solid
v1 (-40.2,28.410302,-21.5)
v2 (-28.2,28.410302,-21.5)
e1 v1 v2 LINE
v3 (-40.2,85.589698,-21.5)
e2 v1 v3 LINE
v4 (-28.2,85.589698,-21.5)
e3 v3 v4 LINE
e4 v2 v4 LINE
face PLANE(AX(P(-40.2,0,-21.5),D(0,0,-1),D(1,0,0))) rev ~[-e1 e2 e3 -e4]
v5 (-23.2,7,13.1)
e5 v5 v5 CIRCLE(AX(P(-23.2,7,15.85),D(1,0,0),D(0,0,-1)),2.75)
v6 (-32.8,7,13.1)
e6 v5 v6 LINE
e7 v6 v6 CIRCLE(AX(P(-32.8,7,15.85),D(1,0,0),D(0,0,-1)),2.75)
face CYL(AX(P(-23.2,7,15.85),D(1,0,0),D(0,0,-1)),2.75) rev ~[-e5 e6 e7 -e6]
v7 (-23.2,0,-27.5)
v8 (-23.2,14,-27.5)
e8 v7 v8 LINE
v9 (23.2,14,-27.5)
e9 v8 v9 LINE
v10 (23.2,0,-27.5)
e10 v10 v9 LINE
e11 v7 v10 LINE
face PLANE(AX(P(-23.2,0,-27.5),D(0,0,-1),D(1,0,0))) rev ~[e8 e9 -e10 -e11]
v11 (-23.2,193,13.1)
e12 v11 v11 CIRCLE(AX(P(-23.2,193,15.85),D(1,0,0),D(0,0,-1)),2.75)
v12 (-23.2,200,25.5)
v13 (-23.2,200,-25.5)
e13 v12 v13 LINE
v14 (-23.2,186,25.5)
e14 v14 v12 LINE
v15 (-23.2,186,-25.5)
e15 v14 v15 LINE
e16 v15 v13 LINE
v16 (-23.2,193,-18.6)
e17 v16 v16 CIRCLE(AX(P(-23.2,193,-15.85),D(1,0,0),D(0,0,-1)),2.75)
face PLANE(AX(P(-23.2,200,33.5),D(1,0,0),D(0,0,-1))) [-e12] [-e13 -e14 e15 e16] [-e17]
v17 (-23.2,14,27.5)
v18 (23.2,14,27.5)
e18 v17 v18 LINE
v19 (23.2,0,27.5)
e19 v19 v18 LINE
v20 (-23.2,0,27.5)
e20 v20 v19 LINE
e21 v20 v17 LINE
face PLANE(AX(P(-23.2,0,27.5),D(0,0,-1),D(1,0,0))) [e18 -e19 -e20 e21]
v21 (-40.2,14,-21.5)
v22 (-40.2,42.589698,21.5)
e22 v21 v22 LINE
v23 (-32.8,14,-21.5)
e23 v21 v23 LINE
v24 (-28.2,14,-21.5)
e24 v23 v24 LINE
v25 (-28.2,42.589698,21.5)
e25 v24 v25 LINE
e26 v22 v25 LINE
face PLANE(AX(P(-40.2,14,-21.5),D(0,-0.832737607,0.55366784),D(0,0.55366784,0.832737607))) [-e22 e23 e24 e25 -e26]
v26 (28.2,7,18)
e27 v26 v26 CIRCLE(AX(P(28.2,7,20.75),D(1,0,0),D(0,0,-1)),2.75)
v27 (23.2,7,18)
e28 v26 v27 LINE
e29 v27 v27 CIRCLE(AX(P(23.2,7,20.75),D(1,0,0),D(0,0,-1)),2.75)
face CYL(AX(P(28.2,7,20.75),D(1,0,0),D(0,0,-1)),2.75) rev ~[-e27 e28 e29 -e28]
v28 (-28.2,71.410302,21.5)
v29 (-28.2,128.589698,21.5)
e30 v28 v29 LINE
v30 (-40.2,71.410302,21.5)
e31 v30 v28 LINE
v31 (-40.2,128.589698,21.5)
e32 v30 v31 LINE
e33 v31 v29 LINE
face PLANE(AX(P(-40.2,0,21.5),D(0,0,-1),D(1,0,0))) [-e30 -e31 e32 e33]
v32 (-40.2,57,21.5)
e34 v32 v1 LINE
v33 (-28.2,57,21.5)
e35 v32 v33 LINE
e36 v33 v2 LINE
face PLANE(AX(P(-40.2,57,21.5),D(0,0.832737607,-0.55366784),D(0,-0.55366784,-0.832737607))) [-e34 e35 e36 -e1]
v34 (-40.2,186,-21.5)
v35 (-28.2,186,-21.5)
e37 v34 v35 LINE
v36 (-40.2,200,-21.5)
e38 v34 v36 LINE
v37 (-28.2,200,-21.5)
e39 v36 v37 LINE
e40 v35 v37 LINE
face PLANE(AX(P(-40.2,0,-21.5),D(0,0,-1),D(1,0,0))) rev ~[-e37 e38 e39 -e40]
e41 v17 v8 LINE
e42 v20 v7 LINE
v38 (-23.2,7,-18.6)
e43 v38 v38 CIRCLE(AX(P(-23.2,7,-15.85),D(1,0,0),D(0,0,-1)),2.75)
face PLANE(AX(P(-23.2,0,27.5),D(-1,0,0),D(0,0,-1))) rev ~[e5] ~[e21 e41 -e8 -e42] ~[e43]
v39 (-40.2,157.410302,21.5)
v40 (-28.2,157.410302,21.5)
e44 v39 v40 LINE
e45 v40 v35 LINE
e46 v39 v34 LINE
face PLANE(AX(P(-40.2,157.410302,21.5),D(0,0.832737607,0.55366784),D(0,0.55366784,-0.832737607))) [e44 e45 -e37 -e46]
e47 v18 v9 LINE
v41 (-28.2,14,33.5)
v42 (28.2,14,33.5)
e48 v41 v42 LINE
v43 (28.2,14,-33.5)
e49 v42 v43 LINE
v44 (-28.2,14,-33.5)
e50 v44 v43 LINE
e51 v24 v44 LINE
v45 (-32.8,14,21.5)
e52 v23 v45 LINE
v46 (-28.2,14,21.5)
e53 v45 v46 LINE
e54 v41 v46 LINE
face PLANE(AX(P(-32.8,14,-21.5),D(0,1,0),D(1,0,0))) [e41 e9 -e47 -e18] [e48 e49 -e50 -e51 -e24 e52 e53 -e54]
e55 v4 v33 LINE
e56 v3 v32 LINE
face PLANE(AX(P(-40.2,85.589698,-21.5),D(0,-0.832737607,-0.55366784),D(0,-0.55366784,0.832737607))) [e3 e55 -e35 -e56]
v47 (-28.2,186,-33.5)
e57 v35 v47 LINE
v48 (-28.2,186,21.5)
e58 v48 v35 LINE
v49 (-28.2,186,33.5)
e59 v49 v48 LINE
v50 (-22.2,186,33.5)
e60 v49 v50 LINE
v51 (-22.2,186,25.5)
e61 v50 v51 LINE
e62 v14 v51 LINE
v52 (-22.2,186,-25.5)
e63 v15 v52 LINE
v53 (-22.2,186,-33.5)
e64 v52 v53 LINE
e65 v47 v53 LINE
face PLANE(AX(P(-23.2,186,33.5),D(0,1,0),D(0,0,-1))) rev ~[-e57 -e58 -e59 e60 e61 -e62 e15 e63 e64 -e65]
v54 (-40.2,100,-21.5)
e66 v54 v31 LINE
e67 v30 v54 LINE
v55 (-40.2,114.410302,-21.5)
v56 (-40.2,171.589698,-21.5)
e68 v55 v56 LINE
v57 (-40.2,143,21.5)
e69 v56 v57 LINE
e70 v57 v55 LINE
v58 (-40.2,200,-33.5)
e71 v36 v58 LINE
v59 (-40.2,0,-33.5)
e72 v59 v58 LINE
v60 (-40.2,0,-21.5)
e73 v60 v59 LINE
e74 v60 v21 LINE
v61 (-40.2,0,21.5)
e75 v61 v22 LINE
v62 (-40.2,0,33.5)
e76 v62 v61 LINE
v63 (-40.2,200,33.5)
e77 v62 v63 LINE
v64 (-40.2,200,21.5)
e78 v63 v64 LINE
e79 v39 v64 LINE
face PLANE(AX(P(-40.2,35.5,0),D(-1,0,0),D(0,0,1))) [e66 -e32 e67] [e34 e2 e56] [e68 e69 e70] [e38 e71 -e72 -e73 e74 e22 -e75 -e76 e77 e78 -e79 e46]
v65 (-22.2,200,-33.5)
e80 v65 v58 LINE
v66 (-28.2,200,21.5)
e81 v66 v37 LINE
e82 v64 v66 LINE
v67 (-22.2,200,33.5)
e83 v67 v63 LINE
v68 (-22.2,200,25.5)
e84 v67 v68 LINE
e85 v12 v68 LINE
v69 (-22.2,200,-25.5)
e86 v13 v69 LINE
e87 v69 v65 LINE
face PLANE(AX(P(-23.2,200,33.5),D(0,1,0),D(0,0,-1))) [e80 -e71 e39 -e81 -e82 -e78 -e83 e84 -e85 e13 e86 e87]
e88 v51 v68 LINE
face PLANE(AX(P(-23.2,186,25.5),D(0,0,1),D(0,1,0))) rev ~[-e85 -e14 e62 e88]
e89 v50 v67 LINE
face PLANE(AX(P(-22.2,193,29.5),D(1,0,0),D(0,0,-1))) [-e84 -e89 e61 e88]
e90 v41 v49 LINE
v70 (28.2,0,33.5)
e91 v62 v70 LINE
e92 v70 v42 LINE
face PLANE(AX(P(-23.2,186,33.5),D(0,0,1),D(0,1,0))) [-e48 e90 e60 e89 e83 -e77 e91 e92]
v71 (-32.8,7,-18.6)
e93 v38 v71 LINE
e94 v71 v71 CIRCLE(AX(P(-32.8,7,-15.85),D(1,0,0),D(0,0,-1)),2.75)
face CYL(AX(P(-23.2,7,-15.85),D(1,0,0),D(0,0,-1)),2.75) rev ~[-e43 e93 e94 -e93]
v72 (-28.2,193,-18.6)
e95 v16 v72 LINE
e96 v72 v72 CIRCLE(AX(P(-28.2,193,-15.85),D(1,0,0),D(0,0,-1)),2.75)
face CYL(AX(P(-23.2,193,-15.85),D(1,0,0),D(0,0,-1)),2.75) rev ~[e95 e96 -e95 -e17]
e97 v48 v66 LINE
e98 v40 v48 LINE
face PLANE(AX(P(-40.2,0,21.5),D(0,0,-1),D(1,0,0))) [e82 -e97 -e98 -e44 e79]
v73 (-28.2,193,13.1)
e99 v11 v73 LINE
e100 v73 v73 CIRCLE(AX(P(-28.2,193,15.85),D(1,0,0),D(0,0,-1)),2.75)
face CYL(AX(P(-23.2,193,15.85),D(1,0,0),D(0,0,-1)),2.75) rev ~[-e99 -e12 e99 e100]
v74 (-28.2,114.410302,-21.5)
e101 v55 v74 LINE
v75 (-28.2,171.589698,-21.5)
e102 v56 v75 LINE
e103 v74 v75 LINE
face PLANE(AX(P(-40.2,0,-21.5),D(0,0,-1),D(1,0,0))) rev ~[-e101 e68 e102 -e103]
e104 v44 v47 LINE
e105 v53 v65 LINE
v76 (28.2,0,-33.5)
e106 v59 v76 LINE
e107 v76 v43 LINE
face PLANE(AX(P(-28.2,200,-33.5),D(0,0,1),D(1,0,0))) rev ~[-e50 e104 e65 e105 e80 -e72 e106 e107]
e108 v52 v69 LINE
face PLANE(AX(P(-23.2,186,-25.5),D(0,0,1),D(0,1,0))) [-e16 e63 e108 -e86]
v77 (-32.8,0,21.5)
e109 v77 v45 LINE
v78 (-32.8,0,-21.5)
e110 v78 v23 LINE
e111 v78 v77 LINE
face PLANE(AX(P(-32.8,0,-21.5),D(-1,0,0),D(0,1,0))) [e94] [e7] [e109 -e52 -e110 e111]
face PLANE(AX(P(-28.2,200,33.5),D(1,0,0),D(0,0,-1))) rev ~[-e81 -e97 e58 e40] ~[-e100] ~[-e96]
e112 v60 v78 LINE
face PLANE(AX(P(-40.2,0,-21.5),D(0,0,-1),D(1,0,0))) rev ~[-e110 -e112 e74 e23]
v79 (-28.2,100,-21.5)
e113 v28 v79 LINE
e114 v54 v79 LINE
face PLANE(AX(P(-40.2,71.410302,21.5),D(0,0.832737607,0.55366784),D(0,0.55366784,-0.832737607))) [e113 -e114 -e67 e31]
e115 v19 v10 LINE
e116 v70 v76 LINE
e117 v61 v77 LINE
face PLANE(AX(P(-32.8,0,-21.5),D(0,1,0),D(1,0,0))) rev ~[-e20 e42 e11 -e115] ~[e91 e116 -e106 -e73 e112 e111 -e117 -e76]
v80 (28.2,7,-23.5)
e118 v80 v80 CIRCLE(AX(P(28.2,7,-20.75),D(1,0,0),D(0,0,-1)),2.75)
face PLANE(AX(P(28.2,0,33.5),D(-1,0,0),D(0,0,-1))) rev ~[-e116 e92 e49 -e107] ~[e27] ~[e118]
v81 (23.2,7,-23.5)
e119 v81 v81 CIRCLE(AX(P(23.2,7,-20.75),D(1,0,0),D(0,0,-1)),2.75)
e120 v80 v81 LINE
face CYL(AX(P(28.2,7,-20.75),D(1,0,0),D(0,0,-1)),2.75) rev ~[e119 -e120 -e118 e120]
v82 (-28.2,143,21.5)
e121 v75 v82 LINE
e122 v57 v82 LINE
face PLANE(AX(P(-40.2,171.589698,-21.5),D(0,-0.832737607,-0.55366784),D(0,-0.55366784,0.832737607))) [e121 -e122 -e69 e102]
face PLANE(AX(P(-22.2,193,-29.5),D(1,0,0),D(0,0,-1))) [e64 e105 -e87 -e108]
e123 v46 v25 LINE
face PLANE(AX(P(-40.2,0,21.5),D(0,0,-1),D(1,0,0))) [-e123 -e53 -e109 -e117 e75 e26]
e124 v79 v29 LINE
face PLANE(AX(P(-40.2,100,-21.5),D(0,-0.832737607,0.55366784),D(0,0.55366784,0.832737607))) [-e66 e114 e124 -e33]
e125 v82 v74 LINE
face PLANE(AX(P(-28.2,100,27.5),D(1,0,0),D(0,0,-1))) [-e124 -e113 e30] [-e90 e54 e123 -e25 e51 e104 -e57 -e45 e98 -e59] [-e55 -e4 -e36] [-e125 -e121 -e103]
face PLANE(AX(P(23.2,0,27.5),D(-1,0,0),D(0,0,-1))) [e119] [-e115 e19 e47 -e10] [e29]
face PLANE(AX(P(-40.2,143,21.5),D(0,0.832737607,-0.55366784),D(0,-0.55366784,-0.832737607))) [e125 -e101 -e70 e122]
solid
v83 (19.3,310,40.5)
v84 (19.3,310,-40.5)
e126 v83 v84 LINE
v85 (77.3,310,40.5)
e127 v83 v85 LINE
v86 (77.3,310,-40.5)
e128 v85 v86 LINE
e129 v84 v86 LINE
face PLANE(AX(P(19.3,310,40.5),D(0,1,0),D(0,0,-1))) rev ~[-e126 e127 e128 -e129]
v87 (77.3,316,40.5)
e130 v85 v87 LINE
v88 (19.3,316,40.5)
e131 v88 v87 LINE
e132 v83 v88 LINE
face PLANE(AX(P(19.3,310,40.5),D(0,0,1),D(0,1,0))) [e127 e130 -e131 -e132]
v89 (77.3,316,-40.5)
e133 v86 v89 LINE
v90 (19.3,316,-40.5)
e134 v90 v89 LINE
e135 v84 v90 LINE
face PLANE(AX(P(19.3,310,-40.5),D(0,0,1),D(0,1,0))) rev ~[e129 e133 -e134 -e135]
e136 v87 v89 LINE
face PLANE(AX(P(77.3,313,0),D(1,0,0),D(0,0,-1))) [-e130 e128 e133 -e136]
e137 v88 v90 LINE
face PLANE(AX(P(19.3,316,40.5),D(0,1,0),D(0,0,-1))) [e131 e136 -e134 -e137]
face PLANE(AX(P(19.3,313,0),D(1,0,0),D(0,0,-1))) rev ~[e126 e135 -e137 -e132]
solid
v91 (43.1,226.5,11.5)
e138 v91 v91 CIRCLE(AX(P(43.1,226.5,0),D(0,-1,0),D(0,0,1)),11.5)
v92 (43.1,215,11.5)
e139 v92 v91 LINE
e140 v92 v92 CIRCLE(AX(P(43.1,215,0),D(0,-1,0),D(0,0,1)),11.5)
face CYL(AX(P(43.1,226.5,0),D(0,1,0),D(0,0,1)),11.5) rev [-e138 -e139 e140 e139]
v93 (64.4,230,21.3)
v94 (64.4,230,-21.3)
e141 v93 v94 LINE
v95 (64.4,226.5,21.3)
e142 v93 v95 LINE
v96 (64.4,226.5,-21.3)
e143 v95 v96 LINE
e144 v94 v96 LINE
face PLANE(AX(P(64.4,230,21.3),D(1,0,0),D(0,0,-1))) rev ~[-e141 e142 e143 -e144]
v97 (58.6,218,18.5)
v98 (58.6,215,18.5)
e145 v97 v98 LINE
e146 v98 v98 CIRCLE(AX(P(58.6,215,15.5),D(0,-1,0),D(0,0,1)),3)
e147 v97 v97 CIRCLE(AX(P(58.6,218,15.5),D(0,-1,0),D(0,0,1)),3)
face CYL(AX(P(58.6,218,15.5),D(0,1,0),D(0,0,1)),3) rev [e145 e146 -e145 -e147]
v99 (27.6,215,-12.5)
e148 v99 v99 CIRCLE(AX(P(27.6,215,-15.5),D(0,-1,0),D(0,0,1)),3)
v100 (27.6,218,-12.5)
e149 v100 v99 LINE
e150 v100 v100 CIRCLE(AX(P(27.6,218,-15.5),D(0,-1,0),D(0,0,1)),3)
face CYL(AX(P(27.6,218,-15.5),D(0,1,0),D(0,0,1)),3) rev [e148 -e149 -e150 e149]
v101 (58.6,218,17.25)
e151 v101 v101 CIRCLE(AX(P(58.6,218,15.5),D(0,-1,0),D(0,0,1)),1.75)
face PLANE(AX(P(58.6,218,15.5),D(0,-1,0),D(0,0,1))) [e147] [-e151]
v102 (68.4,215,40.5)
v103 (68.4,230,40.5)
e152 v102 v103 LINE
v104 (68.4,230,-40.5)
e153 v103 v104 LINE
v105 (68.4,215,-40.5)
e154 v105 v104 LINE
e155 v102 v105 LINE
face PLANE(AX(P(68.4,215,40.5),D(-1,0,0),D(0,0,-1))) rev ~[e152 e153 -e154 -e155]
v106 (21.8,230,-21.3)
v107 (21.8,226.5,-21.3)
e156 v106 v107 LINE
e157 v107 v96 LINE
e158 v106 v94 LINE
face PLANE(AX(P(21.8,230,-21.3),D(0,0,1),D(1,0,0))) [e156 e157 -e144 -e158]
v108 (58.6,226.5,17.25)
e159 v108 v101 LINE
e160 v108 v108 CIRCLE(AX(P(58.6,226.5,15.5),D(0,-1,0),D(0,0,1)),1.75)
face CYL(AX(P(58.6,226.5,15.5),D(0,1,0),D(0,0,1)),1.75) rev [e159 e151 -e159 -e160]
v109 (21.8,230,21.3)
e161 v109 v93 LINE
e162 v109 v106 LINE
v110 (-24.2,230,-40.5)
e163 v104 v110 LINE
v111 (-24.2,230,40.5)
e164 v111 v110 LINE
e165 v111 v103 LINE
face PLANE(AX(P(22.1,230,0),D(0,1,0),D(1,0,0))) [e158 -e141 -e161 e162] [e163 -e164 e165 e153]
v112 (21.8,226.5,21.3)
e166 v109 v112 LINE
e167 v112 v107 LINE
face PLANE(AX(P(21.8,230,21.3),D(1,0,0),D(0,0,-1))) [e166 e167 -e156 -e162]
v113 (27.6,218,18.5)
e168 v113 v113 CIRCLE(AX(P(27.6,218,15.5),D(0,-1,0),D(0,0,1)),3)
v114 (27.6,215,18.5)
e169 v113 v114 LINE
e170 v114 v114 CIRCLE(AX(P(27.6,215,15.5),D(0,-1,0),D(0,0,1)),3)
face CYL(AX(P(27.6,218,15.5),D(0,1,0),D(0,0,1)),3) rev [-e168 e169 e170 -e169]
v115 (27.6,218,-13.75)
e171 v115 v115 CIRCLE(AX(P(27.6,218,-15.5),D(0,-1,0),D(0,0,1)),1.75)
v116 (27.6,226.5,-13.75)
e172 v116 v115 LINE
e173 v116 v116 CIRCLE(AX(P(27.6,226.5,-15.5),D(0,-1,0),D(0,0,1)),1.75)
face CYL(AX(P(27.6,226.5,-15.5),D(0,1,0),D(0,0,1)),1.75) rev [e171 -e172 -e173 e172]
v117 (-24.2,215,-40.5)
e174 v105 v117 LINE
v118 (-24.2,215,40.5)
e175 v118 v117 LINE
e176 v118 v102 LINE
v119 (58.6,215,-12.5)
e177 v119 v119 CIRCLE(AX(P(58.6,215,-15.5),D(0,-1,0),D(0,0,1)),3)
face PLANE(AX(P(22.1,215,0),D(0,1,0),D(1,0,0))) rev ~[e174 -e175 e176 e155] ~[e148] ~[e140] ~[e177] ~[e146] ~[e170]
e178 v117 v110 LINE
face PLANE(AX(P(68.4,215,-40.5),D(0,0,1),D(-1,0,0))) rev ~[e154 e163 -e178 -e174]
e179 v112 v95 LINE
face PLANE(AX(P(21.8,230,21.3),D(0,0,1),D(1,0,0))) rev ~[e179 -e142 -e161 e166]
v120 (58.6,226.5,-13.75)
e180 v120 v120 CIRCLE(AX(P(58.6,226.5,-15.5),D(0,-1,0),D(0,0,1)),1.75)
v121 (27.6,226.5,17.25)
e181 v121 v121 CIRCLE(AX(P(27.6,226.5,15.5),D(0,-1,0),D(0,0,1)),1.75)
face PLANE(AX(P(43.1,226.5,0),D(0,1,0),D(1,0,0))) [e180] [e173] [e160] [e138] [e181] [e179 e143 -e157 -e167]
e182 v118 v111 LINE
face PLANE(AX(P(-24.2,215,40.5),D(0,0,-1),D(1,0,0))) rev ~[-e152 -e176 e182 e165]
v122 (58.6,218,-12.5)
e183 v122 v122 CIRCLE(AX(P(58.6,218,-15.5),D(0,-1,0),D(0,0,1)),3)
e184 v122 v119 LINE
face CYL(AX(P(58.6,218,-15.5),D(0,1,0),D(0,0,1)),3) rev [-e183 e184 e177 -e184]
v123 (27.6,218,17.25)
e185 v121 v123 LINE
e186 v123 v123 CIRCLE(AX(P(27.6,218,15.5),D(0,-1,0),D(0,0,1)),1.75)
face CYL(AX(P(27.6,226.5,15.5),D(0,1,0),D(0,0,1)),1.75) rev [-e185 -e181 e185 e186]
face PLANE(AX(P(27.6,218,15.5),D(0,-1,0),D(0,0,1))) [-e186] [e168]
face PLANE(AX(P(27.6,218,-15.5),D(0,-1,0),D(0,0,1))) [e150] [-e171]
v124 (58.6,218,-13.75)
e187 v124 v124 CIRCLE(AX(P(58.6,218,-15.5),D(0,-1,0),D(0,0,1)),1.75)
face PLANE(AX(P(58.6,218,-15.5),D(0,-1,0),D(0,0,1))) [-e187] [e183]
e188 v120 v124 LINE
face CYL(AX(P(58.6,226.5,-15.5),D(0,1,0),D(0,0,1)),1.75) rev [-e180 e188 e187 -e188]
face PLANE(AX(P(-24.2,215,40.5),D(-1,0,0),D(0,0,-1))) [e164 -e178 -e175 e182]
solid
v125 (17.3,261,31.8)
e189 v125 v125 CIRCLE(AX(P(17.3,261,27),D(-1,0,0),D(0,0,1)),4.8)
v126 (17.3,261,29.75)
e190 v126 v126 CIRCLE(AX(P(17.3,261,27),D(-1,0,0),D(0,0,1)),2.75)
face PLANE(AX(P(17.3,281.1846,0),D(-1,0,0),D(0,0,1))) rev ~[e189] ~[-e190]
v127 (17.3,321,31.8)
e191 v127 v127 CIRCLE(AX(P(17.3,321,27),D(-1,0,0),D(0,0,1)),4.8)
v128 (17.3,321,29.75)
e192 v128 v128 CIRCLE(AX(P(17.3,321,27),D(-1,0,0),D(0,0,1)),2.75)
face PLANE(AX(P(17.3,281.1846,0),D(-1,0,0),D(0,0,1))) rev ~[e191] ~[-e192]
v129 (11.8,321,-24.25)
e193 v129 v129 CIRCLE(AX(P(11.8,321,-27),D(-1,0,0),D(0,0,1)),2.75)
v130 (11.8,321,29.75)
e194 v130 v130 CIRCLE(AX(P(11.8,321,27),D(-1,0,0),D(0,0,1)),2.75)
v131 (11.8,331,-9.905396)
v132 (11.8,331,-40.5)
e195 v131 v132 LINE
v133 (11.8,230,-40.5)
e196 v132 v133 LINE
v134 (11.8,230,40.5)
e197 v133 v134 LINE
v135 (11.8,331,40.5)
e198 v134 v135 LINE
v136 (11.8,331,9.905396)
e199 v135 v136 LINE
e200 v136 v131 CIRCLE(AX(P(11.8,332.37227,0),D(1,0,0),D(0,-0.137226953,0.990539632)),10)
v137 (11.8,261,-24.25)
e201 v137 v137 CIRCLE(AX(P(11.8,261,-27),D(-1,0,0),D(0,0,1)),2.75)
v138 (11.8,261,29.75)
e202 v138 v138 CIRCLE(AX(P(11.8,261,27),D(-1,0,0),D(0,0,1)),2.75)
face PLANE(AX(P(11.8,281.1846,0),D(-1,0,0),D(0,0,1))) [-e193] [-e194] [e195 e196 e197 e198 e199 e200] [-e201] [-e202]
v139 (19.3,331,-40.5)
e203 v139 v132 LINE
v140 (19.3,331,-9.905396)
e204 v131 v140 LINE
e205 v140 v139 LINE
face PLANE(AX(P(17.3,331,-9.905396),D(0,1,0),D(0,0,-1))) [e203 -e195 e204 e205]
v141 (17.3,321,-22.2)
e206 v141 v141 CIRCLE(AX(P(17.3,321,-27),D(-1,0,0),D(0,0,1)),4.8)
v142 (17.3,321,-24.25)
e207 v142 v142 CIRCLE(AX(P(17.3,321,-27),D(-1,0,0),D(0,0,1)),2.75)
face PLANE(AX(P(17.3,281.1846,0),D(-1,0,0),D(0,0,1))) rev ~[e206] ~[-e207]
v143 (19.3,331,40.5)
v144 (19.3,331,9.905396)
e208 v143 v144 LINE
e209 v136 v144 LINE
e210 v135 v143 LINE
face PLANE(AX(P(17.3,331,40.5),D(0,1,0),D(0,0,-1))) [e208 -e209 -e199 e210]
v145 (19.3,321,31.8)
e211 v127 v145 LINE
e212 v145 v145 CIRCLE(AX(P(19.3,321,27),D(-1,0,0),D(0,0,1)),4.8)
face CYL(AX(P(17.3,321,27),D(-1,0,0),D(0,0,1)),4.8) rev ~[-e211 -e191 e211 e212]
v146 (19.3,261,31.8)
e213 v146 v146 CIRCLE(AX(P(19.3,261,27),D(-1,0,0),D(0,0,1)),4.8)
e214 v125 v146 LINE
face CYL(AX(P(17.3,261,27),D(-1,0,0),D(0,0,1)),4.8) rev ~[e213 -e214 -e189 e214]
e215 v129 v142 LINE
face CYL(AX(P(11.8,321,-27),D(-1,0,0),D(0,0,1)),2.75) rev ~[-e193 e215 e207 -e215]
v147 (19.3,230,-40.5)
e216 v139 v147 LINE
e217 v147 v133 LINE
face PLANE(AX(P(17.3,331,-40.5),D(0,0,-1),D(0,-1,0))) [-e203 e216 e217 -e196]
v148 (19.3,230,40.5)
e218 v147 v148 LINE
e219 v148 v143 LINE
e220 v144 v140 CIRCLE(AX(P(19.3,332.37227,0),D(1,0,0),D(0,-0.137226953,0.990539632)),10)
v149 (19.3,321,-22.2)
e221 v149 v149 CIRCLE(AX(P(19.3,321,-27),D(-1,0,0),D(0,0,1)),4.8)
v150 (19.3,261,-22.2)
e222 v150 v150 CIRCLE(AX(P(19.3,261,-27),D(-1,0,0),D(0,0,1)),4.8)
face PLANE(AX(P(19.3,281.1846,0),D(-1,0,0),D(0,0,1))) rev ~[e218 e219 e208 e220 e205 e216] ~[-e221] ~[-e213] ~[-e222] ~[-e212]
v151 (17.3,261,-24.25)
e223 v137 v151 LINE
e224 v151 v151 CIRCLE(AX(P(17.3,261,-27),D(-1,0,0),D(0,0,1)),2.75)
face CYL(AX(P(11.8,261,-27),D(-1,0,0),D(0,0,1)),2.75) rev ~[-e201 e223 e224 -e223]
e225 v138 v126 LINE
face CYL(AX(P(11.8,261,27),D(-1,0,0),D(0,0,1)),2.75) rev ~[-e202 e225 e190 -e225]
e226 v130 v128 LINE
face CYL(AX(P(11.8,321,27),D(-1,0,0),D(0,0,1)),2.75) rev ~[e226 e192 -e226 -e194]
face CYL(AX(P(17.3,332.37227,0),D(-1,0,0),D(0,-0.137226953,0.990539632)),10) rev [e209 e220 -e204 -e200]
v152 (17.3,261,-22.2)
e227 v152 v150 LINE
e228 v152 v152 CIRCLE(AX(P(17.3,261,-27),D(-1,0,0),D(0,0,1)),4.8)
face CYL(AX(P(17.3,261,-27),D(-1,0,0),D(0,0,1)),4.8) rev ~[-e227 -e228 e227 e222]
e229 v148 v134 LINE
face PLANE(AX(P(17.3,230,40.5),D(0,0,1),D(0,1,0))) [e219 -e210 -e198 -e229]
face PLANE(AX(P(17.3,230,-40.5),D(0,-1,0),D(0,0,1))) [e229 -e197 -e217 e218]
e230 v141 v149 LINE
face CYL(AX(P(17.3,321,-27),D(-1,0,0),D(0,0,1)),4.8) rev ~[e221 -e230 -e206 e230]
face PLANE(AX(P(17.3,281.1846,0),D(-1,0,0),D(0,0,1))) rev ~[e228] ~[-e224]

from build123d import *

# Parameters (mm, degrees)
SKETCH1_W            = 56.4
SKETCH1_H            = 67
SKETCH1_W_2          = 46.4
SKETCH1_H_2          = 55
BOSS_EXTRUDE1_DEPTH  = 14
SKETCH4_W            = 12
SKETCH4_H            = 12
BOSS_EXTRUDE2_DEPTH  = 200
SKETCH16_W           = 4.6
SKETCH16_H           = 14
BOSS_EXTRUDE11_DEPTH = 43
SKETCH5_W            = 5
SKETCH5_H            = 67
BOSS_EXTRUDE3_DEPTH  = 14
BOSS_EXTRUDE4_REACH  = 216.011
SKETCH2_R            = 2.75
CUT_EXTRUDE1_DEPTH   = 5
SKETCH3_R            = 2.75
CUT_EXTRUDE2_DEPTH   = 210.198972273
SKETCH7_R            = 2.75
CUT_EXTRUDE3_DEPTH   = 217.851100989
SKETCH8_W            = 8
SKETCH8_H            = 14
BOSS_EXTRUDE5_DEPTH  = 1
SKETCH9_W            = 92.6
SKETCH9_H            = 81
SKETCH9_W_2          = 6.786539707
BOSS_EXTRUDE6_DEPTH  = 15
SKETCH10_W           = 42.6
SKETCH10_H           = 42.6
CUT_EXTRUDE4_DEPTH   = 3.5
SKETCH11_R           = 1.75
SKETCH11_R_2         = 11.5
CUT_EXTRUDE5_DEPTH   = 11.5
CUT_EXTRUDE6_START   = 8.5
SKETCH11_5_R         = 3
SKETCH11_5_R_2       = 1.75
SKETCH11_5_R_3       = 11.5
CUT_EXTRUDE6_DEPTH   = 3
SKETCH13_R           = 2.75
BOSS_EXTRUDE7_DEPTH  = 5.5
BOSS_EXTRUDE10_START = -5.5
SKETCH13_3_R         = 4.8
BOSS_EXTRUDE10_DEPTH = 2
SKETCH15_W           = 81
SKETCH15_H           = 6
BOSS_EXTRUDE9_DEPTH  = 58


with BuildPart() as part:
    # Sketch1 → Boss-Extrude1 (new body)
    with BuildSketch(Plane(origin=(0, 0, 0), x_dir=(1, 0, 0), z_dir=(0, 1, 0))):
        Rectangle(SKETCH1_W, SKETCH1_H)
        Rectangle(SKETCH1_W_2, SKETCH1_H_2, mode=Mode.SUBTRACT)
    extrude(amount=BOSS_EXTRUDE1_DEPTH)

    # Sketch4 → Boss-Extrude2 (add)
    with BuildSketch(Plane(origin=(0, 0, 0), x_dir=(1, 0, 0), z_dir=(0, 1, 0))):
        with Locations((-34.2, -27.5)):
            Rectangle(SKETCH4_W, SKETCH4_H)
        with Locations((-34.2, 27.5)):
            Rectangle(SKETCH4_W, SKETCH4_H)
    extrude(amount=BOSS_EXTRUDE2_DEPTH)

    # Sketch16 → Boss-Extrude11 (add)
    with BuildSketch(Plane.XY.offset(-21.5)):
        with Locations((-30.5, 7)):
            Rectangle(SKETCH16_W, SKETCH16_H)
    extrude(amount=BOSS_EXTRUDE11_DEPTH)

    # Sketch5 → Boss-Extrude3 (add)
    with BuildSketch(Plane(origin=(0, 200, 0), x_dir=(1, 0, 0), z_dir=(0, 1, 0))):
        with Locations((-25.7, 0)):
            Rectangle(SKETCH5_W, SKETCH5_H)
    extrude(amount=-BOSS_EXTRUDE3_DEPTH)

    # Boss-Extrude4: up to this face of the body (flat: up to its plane)
    boss_extrude4_end = Plane(part.part.faces().sort_by_distance((-28.2, 100, 27.5))[0])
    # Sketch6 → Boss-Extrude4 (add, up to the picked face)
    with BuildSketch(Plane.ZY.offset(40.2), mode=Mode.PRIVATE) as boss_extrude4_sk1:
        Polygon((21.5, 157.410301507), (-21.5, 186), (-21.5, 171.589698493), (21.5, 143), align=None)
    boss_extrude4_tool1 = split(extrude(boss_extrude4_sk1.sketch, amount=-BOSS_EXTRUDE4_REACH, mode=Mode.PRIVATE), bisect_by=boss_extrude4_end, keep=Keep.BOTH, mode=Mode.PRIVATE)
    # Sketch6 → Boss-Extrude4 (add, up to the picked face)
    with BuildSketch(Plane.ZY.offset(40.2), mode=Mode.PRIVATE) as boss_extrude4_sk2:
        Polygon((21.5, 128.589698493), (21.5, 143), (-21.5, 114.410301507), (-21.5, 100), align=None)
    boss_extrude4_tool2 = split(extrude(boss_extrude4_sk2.sketch, amount=-BOSS_EXTRUDE4_REACH, mode=Mode.PRIVATE), bisect_by=boss_extrude4_end, keep=Keep.BOTH, mode=Mode.PRIVATE)
    # Sketch6 → Boss-Extrude4 (add, up to the picked face)
    with BuildSketch(Plane.ZY.offset(40.2), mode=Mode.PRIVATE) as boss_extrude4_sk3:
        Polygon((21.5, 71.410301507), (-21.5, 100), (-21.5, 85.589698493), (21.5, 57), align=None)
    boss_extrude4_tool3 = split(extrude(boss_extrude4_sk3.sketch, amount=-BOSS_EXTRUDE4_REACH, mode=Mode.PRIVATE), bisect_by=boss_extrude4_end, keep=Keep.BOTH, mode=Mode.PRIVATE)
    # Sketch6 → Boss-Extrude4 (add, up to the picked face)
    with BuildSketch(Plane.ZY.offset(40.2), mode=Mode.PRIVATE) as boss_extrude4_sk4:
        Polygon((21.5, 42.589698493), (21.5, 57), (-21.5, 28.410301507), (-21.5, 14), align=None)
    boss_extrude4_tool4 = split(extrude(boss_extrude4_sk4.sketch, amount=-BOSS_EXTRUDE4_REACH, mode=Mode.PRIVATE), bisect_by=boss_extrude4_end, keep=Keep.BOTH, mode=Mode.PRIVATE)
    add(boss_extrude4_tool1.solids().sort_by(Axis((-40.2, 164.5, 0), (1, 0, 0)))[0])
    add(boss_extrude4_tool2.solids().sort_by(Axis((-40.2, 121.5, 0), (1, 0, 0)))[0])
    add(boss_extrude4_tool3.solids().sort_by(Axis((-40.2, 78.5, 0), (1, 0, 0)))[0])
    add(boss_extrude4_tool4.solids().sort_by(Axis((-40.2, 35.5, 0), (1, 0, 0)))[0])

    # Sketch2 → Cut-Extrude1 (cut)
    with BuildSketch(Plane(origin=(28.2, 0, 0), x_dir=(0, 0, -1), z_dir=(1, 0, 0))):
        with Locations((-20.75, 7)):
            Circle(SKETCH2_R)
        with Locations((20.75, 7)):
            Circle(SKETCH2_R)
    extrude(amount=-CUT_EXTRUDE1_DEPTH, mode=Mode.SUBTRACT)

    # Sketch3 → Cut-Extrude2 (cut, through all)
    with BuildSketch(Plane(origin=(-23.2, 0, 0), x_dir=(0, 0, -1), z_dir=(1, 0, 0))):
        with Locations((15.85, 7)):
            Circle(SKETCH3_R)
        with Locations((-15.85, 7)):
            Circle(SKETCH3_R)
    extrude(amount=-CUT_EXTRUDE2_DEPTH, mode=Mode.SUBTRACT)

    # Sketch7 → Cut-Extrude3 (cut, through all)
    with BuildSketch(Plane(origin=(-23.2, 0, -32.7), x_dir=(0, 0, -1), z_dir=(1, 0, 0))):
        with Locations((-16.85, 193)):
            Circle(SKETCH7_R)
        with Locations((-48.55, 193)):
            Circle(SKETCH7_R)
    extrude(amount=-CUT_EXTRUDE3_DEPTH, mode=Mode.SUBTRACT)

    # Sketch8 → Boss-Extrude5 (add)
    with BuildSketch(Plane(origin=(-23.2, 0, 0), x_dir=(0, 0, -1), z_dir=(1, 0, 0))):
        with Locations((-29.5, 193)):
            Rectangle(SKETCH8_W, SKETCH8_H)
        with Locations((29.5, 193)):
            Rectangle(SKETCH8_W, SKETCH8_H)
    extrude(amount=BOSS_EXTRUDE5_DEPTH)


with BuildPart() as body_2:
    # Sketch9 → Boss-Extrude6 (new body)
    with BuildSketch(Plane(origin=(0, 215, 0), x_dir=(1, 0, 0), z_dir=(0, 1, 0))):
        with Locations((22.1, 0)):
            Rectangle(SKETCH9_W, SKETCH9_H)
        with Locations((-18.806730147, 0)):
            Rectangle(SKETCH9_W_2, SKETCH9_H)
    extrude(amount=BOSS_EXTRUDE6_DEPTH)

    # Sketch10 → Cut-Extrude4 (cut)
    with BuildSketch(Plane(origin=(0, 230, 0), x_dir=(1, 0, 0), z_dir=(0, 1, 0))):
        with Locations((43.1, 0)):
            Rectangle(SKETCH10_W, SKETCH10_H)
    extrude(amount=-CUT_EXTRUDE4_DEPTH, mode=Mode.SUBTRACT)

    # Sketch11 → Cut-Extrude5 (cut)
    with BuildSketch(Plane(origin=(0, 226.5, -221.5), x_dir=(1, 0, 0), z_dir=(0, -1, 0))):
        with Locations(Location((58.6, 237, 0), (0, 0, 90))):
            Circle(SKETCH11_R)
        with Locations(Location((27.6, 237, 0), (0, 0, 90))):
            Circle(SKETCH11_R)
        with Locations(Location((27.6, 206, 0), (0, 0, 90))):
            Circle(SKETCH11_R)
        with Locations(Location((58.6, 206, 0), (0, 0, 90))):
            Circle(SKETCH11_R)
        with Locations(Location((43.1, 221.5, 0), (0, 0, 90))):
            Circle(SKETCH11_R_2)
    extrude(amount=CUT_EXTRUDE5_DEPTH, mode=Mode.SUBTRACT)

    # Sketch11<5> → Cut-Extrude6 (cut)
    with BuildSketch(Plane(origin=(0, 226.5, -221.5), x_dir=(1, 0, 0), z_dir=(0, -1, 0)).offset(CUT_EXTRUDE6_START)):
        with Locations(Location((27.6, 237, 0), (0, 0, 90))):
            Circle(SKETCH11_5_R)
        with Locations(Location((27.6, 237, 0), (0, 0, 90))):
            Circle(SKETCH11_5_R_2, mode=Mode.SUBTRACT)
        with Locations(Location((58.6, 237, 0), (0, 0, 90))):
            Circle(SKETCH11_5_R)
        with Locations(Location((58.6, 237, 0), (0, 0, 90))):
            Circle(SKETCH11_5_R_2, mode=Mode.SUBTRACT)
        with Locations(Location((58.6, 206, 0), (0, 0, 90))):
            Circle(SKETCH11_5_R)
        with Locations(Location((58.6, 206, 0), (0, 0, 90))):
            Circle(SKETCH11_5_R_2, mode=Mode.SUBTRACT)
        with Locations(Location((27.6, 206, 0), (0, 0, 90))):
            Circle(SKETCH11_5_R)
        with Locations(Location((27.6, 206, 0), (0, 0, 90))):
            Circle(SKETCH11_5_R_2, mode=Mode.SUBTRACT)
        with Locations(Location((43.1, 221.5, 0), (0, 0, 90))):
            Circle(SKETCH11_5_R_3)
    extrude(amount=CUT_EXTRUDE6_DEPTH, mode=Mode.SUBTRACT)


with BuildPart() as body_3:
    # Sketch13 → Boss-Extrude7 (new body)
    with BuildSketch(Plane.ZY.offset(-11.8)):
        with BuildLine():
            Line((-9.905396324, 331), (-40.5, 331))
            Line((-40.5, 331), (-40.5, 230))
            Line((-40.5, 230), (40.5, 230))
            Line((40.5, 230), (40.5, 331))
            Line((40.5, 331), (9.905396324, 331))
            ThreePointArc((9.905396324, 331), (0, 322.372269531), (-9.905396324, 331))
        make_face()
        with Locations((-27, 261)):
            Circle(SKETCH13_R, mode=Mode.SUBTRACT)
        with Locations((27, 321)):
            Circle(SKETCH13_R, mode=Mode.SUBTRACT)
        with Locations((27, 261)):
            Circle(SKETCH13_R, mode=Mode.SUBTRACT)
        with Locations((-27, 321)):
            Circle(SKETCH13_R, mode=Mode.SUBTRACT)
    extrude(amount=-BOSS_EXTRUDE7_DEPTH)

    # Sketch13<3> → Boss-Extrude10 (add)
    with BuildSketch(Plane.ZY.offset(-11.8).offset(BOSS_EXTRUDE10_START)):
        with BuildLine():
            Line((-9.905396324, 331), (-40.5, 331))
            Line((-40.5, 331), (-40.5, 230))
            Line((-40.5, 230), (40.5, 230))
            Line((40.5, 230), (40.5, 331))
            Line((40.5, 331), (9.905396324, 331))
            ThreePointArc((9.905396324, 331), (0, 322.372269531), (-9.905396324, 331))
        make_face()
        with Locations((-27, 261)):
            Circle(SKETCH13_3_R, mode=Mode.SUBTRACT)
        with Locations((27, 261)):
            Circle(SKETCH13_3_R, mode=Mode.SUBTRACT)
        with Locations((-27, 321)):
            Circle(SKETCH13_3_R, mode=Mode.SUBTRACT)
        with Locations((27, 321)):
            Circle(SKETCH13_3_R, mode=Mode.SUBTRACT)
    extrude(amount=-BOSS_EXTRUDE10_DEPTH)


with BuildPart() as body_4:
    # Sketch15 → Boss-Extrude9 (new body)
    with BuildSketch(Plane(origin=(19.3, 0, 0), x_dir=(0, 0, -1), z_dir=(1, 0, 0))):
        with Locations((0, 313)):
            Rectangle(SKETCH15_W, SKETCH15_H)
    extrude(amount=BOSS_EXTRUDE9_DEPTH)


solid = Compound([part.part, body_2.part, body_3.part, body_4.part])
